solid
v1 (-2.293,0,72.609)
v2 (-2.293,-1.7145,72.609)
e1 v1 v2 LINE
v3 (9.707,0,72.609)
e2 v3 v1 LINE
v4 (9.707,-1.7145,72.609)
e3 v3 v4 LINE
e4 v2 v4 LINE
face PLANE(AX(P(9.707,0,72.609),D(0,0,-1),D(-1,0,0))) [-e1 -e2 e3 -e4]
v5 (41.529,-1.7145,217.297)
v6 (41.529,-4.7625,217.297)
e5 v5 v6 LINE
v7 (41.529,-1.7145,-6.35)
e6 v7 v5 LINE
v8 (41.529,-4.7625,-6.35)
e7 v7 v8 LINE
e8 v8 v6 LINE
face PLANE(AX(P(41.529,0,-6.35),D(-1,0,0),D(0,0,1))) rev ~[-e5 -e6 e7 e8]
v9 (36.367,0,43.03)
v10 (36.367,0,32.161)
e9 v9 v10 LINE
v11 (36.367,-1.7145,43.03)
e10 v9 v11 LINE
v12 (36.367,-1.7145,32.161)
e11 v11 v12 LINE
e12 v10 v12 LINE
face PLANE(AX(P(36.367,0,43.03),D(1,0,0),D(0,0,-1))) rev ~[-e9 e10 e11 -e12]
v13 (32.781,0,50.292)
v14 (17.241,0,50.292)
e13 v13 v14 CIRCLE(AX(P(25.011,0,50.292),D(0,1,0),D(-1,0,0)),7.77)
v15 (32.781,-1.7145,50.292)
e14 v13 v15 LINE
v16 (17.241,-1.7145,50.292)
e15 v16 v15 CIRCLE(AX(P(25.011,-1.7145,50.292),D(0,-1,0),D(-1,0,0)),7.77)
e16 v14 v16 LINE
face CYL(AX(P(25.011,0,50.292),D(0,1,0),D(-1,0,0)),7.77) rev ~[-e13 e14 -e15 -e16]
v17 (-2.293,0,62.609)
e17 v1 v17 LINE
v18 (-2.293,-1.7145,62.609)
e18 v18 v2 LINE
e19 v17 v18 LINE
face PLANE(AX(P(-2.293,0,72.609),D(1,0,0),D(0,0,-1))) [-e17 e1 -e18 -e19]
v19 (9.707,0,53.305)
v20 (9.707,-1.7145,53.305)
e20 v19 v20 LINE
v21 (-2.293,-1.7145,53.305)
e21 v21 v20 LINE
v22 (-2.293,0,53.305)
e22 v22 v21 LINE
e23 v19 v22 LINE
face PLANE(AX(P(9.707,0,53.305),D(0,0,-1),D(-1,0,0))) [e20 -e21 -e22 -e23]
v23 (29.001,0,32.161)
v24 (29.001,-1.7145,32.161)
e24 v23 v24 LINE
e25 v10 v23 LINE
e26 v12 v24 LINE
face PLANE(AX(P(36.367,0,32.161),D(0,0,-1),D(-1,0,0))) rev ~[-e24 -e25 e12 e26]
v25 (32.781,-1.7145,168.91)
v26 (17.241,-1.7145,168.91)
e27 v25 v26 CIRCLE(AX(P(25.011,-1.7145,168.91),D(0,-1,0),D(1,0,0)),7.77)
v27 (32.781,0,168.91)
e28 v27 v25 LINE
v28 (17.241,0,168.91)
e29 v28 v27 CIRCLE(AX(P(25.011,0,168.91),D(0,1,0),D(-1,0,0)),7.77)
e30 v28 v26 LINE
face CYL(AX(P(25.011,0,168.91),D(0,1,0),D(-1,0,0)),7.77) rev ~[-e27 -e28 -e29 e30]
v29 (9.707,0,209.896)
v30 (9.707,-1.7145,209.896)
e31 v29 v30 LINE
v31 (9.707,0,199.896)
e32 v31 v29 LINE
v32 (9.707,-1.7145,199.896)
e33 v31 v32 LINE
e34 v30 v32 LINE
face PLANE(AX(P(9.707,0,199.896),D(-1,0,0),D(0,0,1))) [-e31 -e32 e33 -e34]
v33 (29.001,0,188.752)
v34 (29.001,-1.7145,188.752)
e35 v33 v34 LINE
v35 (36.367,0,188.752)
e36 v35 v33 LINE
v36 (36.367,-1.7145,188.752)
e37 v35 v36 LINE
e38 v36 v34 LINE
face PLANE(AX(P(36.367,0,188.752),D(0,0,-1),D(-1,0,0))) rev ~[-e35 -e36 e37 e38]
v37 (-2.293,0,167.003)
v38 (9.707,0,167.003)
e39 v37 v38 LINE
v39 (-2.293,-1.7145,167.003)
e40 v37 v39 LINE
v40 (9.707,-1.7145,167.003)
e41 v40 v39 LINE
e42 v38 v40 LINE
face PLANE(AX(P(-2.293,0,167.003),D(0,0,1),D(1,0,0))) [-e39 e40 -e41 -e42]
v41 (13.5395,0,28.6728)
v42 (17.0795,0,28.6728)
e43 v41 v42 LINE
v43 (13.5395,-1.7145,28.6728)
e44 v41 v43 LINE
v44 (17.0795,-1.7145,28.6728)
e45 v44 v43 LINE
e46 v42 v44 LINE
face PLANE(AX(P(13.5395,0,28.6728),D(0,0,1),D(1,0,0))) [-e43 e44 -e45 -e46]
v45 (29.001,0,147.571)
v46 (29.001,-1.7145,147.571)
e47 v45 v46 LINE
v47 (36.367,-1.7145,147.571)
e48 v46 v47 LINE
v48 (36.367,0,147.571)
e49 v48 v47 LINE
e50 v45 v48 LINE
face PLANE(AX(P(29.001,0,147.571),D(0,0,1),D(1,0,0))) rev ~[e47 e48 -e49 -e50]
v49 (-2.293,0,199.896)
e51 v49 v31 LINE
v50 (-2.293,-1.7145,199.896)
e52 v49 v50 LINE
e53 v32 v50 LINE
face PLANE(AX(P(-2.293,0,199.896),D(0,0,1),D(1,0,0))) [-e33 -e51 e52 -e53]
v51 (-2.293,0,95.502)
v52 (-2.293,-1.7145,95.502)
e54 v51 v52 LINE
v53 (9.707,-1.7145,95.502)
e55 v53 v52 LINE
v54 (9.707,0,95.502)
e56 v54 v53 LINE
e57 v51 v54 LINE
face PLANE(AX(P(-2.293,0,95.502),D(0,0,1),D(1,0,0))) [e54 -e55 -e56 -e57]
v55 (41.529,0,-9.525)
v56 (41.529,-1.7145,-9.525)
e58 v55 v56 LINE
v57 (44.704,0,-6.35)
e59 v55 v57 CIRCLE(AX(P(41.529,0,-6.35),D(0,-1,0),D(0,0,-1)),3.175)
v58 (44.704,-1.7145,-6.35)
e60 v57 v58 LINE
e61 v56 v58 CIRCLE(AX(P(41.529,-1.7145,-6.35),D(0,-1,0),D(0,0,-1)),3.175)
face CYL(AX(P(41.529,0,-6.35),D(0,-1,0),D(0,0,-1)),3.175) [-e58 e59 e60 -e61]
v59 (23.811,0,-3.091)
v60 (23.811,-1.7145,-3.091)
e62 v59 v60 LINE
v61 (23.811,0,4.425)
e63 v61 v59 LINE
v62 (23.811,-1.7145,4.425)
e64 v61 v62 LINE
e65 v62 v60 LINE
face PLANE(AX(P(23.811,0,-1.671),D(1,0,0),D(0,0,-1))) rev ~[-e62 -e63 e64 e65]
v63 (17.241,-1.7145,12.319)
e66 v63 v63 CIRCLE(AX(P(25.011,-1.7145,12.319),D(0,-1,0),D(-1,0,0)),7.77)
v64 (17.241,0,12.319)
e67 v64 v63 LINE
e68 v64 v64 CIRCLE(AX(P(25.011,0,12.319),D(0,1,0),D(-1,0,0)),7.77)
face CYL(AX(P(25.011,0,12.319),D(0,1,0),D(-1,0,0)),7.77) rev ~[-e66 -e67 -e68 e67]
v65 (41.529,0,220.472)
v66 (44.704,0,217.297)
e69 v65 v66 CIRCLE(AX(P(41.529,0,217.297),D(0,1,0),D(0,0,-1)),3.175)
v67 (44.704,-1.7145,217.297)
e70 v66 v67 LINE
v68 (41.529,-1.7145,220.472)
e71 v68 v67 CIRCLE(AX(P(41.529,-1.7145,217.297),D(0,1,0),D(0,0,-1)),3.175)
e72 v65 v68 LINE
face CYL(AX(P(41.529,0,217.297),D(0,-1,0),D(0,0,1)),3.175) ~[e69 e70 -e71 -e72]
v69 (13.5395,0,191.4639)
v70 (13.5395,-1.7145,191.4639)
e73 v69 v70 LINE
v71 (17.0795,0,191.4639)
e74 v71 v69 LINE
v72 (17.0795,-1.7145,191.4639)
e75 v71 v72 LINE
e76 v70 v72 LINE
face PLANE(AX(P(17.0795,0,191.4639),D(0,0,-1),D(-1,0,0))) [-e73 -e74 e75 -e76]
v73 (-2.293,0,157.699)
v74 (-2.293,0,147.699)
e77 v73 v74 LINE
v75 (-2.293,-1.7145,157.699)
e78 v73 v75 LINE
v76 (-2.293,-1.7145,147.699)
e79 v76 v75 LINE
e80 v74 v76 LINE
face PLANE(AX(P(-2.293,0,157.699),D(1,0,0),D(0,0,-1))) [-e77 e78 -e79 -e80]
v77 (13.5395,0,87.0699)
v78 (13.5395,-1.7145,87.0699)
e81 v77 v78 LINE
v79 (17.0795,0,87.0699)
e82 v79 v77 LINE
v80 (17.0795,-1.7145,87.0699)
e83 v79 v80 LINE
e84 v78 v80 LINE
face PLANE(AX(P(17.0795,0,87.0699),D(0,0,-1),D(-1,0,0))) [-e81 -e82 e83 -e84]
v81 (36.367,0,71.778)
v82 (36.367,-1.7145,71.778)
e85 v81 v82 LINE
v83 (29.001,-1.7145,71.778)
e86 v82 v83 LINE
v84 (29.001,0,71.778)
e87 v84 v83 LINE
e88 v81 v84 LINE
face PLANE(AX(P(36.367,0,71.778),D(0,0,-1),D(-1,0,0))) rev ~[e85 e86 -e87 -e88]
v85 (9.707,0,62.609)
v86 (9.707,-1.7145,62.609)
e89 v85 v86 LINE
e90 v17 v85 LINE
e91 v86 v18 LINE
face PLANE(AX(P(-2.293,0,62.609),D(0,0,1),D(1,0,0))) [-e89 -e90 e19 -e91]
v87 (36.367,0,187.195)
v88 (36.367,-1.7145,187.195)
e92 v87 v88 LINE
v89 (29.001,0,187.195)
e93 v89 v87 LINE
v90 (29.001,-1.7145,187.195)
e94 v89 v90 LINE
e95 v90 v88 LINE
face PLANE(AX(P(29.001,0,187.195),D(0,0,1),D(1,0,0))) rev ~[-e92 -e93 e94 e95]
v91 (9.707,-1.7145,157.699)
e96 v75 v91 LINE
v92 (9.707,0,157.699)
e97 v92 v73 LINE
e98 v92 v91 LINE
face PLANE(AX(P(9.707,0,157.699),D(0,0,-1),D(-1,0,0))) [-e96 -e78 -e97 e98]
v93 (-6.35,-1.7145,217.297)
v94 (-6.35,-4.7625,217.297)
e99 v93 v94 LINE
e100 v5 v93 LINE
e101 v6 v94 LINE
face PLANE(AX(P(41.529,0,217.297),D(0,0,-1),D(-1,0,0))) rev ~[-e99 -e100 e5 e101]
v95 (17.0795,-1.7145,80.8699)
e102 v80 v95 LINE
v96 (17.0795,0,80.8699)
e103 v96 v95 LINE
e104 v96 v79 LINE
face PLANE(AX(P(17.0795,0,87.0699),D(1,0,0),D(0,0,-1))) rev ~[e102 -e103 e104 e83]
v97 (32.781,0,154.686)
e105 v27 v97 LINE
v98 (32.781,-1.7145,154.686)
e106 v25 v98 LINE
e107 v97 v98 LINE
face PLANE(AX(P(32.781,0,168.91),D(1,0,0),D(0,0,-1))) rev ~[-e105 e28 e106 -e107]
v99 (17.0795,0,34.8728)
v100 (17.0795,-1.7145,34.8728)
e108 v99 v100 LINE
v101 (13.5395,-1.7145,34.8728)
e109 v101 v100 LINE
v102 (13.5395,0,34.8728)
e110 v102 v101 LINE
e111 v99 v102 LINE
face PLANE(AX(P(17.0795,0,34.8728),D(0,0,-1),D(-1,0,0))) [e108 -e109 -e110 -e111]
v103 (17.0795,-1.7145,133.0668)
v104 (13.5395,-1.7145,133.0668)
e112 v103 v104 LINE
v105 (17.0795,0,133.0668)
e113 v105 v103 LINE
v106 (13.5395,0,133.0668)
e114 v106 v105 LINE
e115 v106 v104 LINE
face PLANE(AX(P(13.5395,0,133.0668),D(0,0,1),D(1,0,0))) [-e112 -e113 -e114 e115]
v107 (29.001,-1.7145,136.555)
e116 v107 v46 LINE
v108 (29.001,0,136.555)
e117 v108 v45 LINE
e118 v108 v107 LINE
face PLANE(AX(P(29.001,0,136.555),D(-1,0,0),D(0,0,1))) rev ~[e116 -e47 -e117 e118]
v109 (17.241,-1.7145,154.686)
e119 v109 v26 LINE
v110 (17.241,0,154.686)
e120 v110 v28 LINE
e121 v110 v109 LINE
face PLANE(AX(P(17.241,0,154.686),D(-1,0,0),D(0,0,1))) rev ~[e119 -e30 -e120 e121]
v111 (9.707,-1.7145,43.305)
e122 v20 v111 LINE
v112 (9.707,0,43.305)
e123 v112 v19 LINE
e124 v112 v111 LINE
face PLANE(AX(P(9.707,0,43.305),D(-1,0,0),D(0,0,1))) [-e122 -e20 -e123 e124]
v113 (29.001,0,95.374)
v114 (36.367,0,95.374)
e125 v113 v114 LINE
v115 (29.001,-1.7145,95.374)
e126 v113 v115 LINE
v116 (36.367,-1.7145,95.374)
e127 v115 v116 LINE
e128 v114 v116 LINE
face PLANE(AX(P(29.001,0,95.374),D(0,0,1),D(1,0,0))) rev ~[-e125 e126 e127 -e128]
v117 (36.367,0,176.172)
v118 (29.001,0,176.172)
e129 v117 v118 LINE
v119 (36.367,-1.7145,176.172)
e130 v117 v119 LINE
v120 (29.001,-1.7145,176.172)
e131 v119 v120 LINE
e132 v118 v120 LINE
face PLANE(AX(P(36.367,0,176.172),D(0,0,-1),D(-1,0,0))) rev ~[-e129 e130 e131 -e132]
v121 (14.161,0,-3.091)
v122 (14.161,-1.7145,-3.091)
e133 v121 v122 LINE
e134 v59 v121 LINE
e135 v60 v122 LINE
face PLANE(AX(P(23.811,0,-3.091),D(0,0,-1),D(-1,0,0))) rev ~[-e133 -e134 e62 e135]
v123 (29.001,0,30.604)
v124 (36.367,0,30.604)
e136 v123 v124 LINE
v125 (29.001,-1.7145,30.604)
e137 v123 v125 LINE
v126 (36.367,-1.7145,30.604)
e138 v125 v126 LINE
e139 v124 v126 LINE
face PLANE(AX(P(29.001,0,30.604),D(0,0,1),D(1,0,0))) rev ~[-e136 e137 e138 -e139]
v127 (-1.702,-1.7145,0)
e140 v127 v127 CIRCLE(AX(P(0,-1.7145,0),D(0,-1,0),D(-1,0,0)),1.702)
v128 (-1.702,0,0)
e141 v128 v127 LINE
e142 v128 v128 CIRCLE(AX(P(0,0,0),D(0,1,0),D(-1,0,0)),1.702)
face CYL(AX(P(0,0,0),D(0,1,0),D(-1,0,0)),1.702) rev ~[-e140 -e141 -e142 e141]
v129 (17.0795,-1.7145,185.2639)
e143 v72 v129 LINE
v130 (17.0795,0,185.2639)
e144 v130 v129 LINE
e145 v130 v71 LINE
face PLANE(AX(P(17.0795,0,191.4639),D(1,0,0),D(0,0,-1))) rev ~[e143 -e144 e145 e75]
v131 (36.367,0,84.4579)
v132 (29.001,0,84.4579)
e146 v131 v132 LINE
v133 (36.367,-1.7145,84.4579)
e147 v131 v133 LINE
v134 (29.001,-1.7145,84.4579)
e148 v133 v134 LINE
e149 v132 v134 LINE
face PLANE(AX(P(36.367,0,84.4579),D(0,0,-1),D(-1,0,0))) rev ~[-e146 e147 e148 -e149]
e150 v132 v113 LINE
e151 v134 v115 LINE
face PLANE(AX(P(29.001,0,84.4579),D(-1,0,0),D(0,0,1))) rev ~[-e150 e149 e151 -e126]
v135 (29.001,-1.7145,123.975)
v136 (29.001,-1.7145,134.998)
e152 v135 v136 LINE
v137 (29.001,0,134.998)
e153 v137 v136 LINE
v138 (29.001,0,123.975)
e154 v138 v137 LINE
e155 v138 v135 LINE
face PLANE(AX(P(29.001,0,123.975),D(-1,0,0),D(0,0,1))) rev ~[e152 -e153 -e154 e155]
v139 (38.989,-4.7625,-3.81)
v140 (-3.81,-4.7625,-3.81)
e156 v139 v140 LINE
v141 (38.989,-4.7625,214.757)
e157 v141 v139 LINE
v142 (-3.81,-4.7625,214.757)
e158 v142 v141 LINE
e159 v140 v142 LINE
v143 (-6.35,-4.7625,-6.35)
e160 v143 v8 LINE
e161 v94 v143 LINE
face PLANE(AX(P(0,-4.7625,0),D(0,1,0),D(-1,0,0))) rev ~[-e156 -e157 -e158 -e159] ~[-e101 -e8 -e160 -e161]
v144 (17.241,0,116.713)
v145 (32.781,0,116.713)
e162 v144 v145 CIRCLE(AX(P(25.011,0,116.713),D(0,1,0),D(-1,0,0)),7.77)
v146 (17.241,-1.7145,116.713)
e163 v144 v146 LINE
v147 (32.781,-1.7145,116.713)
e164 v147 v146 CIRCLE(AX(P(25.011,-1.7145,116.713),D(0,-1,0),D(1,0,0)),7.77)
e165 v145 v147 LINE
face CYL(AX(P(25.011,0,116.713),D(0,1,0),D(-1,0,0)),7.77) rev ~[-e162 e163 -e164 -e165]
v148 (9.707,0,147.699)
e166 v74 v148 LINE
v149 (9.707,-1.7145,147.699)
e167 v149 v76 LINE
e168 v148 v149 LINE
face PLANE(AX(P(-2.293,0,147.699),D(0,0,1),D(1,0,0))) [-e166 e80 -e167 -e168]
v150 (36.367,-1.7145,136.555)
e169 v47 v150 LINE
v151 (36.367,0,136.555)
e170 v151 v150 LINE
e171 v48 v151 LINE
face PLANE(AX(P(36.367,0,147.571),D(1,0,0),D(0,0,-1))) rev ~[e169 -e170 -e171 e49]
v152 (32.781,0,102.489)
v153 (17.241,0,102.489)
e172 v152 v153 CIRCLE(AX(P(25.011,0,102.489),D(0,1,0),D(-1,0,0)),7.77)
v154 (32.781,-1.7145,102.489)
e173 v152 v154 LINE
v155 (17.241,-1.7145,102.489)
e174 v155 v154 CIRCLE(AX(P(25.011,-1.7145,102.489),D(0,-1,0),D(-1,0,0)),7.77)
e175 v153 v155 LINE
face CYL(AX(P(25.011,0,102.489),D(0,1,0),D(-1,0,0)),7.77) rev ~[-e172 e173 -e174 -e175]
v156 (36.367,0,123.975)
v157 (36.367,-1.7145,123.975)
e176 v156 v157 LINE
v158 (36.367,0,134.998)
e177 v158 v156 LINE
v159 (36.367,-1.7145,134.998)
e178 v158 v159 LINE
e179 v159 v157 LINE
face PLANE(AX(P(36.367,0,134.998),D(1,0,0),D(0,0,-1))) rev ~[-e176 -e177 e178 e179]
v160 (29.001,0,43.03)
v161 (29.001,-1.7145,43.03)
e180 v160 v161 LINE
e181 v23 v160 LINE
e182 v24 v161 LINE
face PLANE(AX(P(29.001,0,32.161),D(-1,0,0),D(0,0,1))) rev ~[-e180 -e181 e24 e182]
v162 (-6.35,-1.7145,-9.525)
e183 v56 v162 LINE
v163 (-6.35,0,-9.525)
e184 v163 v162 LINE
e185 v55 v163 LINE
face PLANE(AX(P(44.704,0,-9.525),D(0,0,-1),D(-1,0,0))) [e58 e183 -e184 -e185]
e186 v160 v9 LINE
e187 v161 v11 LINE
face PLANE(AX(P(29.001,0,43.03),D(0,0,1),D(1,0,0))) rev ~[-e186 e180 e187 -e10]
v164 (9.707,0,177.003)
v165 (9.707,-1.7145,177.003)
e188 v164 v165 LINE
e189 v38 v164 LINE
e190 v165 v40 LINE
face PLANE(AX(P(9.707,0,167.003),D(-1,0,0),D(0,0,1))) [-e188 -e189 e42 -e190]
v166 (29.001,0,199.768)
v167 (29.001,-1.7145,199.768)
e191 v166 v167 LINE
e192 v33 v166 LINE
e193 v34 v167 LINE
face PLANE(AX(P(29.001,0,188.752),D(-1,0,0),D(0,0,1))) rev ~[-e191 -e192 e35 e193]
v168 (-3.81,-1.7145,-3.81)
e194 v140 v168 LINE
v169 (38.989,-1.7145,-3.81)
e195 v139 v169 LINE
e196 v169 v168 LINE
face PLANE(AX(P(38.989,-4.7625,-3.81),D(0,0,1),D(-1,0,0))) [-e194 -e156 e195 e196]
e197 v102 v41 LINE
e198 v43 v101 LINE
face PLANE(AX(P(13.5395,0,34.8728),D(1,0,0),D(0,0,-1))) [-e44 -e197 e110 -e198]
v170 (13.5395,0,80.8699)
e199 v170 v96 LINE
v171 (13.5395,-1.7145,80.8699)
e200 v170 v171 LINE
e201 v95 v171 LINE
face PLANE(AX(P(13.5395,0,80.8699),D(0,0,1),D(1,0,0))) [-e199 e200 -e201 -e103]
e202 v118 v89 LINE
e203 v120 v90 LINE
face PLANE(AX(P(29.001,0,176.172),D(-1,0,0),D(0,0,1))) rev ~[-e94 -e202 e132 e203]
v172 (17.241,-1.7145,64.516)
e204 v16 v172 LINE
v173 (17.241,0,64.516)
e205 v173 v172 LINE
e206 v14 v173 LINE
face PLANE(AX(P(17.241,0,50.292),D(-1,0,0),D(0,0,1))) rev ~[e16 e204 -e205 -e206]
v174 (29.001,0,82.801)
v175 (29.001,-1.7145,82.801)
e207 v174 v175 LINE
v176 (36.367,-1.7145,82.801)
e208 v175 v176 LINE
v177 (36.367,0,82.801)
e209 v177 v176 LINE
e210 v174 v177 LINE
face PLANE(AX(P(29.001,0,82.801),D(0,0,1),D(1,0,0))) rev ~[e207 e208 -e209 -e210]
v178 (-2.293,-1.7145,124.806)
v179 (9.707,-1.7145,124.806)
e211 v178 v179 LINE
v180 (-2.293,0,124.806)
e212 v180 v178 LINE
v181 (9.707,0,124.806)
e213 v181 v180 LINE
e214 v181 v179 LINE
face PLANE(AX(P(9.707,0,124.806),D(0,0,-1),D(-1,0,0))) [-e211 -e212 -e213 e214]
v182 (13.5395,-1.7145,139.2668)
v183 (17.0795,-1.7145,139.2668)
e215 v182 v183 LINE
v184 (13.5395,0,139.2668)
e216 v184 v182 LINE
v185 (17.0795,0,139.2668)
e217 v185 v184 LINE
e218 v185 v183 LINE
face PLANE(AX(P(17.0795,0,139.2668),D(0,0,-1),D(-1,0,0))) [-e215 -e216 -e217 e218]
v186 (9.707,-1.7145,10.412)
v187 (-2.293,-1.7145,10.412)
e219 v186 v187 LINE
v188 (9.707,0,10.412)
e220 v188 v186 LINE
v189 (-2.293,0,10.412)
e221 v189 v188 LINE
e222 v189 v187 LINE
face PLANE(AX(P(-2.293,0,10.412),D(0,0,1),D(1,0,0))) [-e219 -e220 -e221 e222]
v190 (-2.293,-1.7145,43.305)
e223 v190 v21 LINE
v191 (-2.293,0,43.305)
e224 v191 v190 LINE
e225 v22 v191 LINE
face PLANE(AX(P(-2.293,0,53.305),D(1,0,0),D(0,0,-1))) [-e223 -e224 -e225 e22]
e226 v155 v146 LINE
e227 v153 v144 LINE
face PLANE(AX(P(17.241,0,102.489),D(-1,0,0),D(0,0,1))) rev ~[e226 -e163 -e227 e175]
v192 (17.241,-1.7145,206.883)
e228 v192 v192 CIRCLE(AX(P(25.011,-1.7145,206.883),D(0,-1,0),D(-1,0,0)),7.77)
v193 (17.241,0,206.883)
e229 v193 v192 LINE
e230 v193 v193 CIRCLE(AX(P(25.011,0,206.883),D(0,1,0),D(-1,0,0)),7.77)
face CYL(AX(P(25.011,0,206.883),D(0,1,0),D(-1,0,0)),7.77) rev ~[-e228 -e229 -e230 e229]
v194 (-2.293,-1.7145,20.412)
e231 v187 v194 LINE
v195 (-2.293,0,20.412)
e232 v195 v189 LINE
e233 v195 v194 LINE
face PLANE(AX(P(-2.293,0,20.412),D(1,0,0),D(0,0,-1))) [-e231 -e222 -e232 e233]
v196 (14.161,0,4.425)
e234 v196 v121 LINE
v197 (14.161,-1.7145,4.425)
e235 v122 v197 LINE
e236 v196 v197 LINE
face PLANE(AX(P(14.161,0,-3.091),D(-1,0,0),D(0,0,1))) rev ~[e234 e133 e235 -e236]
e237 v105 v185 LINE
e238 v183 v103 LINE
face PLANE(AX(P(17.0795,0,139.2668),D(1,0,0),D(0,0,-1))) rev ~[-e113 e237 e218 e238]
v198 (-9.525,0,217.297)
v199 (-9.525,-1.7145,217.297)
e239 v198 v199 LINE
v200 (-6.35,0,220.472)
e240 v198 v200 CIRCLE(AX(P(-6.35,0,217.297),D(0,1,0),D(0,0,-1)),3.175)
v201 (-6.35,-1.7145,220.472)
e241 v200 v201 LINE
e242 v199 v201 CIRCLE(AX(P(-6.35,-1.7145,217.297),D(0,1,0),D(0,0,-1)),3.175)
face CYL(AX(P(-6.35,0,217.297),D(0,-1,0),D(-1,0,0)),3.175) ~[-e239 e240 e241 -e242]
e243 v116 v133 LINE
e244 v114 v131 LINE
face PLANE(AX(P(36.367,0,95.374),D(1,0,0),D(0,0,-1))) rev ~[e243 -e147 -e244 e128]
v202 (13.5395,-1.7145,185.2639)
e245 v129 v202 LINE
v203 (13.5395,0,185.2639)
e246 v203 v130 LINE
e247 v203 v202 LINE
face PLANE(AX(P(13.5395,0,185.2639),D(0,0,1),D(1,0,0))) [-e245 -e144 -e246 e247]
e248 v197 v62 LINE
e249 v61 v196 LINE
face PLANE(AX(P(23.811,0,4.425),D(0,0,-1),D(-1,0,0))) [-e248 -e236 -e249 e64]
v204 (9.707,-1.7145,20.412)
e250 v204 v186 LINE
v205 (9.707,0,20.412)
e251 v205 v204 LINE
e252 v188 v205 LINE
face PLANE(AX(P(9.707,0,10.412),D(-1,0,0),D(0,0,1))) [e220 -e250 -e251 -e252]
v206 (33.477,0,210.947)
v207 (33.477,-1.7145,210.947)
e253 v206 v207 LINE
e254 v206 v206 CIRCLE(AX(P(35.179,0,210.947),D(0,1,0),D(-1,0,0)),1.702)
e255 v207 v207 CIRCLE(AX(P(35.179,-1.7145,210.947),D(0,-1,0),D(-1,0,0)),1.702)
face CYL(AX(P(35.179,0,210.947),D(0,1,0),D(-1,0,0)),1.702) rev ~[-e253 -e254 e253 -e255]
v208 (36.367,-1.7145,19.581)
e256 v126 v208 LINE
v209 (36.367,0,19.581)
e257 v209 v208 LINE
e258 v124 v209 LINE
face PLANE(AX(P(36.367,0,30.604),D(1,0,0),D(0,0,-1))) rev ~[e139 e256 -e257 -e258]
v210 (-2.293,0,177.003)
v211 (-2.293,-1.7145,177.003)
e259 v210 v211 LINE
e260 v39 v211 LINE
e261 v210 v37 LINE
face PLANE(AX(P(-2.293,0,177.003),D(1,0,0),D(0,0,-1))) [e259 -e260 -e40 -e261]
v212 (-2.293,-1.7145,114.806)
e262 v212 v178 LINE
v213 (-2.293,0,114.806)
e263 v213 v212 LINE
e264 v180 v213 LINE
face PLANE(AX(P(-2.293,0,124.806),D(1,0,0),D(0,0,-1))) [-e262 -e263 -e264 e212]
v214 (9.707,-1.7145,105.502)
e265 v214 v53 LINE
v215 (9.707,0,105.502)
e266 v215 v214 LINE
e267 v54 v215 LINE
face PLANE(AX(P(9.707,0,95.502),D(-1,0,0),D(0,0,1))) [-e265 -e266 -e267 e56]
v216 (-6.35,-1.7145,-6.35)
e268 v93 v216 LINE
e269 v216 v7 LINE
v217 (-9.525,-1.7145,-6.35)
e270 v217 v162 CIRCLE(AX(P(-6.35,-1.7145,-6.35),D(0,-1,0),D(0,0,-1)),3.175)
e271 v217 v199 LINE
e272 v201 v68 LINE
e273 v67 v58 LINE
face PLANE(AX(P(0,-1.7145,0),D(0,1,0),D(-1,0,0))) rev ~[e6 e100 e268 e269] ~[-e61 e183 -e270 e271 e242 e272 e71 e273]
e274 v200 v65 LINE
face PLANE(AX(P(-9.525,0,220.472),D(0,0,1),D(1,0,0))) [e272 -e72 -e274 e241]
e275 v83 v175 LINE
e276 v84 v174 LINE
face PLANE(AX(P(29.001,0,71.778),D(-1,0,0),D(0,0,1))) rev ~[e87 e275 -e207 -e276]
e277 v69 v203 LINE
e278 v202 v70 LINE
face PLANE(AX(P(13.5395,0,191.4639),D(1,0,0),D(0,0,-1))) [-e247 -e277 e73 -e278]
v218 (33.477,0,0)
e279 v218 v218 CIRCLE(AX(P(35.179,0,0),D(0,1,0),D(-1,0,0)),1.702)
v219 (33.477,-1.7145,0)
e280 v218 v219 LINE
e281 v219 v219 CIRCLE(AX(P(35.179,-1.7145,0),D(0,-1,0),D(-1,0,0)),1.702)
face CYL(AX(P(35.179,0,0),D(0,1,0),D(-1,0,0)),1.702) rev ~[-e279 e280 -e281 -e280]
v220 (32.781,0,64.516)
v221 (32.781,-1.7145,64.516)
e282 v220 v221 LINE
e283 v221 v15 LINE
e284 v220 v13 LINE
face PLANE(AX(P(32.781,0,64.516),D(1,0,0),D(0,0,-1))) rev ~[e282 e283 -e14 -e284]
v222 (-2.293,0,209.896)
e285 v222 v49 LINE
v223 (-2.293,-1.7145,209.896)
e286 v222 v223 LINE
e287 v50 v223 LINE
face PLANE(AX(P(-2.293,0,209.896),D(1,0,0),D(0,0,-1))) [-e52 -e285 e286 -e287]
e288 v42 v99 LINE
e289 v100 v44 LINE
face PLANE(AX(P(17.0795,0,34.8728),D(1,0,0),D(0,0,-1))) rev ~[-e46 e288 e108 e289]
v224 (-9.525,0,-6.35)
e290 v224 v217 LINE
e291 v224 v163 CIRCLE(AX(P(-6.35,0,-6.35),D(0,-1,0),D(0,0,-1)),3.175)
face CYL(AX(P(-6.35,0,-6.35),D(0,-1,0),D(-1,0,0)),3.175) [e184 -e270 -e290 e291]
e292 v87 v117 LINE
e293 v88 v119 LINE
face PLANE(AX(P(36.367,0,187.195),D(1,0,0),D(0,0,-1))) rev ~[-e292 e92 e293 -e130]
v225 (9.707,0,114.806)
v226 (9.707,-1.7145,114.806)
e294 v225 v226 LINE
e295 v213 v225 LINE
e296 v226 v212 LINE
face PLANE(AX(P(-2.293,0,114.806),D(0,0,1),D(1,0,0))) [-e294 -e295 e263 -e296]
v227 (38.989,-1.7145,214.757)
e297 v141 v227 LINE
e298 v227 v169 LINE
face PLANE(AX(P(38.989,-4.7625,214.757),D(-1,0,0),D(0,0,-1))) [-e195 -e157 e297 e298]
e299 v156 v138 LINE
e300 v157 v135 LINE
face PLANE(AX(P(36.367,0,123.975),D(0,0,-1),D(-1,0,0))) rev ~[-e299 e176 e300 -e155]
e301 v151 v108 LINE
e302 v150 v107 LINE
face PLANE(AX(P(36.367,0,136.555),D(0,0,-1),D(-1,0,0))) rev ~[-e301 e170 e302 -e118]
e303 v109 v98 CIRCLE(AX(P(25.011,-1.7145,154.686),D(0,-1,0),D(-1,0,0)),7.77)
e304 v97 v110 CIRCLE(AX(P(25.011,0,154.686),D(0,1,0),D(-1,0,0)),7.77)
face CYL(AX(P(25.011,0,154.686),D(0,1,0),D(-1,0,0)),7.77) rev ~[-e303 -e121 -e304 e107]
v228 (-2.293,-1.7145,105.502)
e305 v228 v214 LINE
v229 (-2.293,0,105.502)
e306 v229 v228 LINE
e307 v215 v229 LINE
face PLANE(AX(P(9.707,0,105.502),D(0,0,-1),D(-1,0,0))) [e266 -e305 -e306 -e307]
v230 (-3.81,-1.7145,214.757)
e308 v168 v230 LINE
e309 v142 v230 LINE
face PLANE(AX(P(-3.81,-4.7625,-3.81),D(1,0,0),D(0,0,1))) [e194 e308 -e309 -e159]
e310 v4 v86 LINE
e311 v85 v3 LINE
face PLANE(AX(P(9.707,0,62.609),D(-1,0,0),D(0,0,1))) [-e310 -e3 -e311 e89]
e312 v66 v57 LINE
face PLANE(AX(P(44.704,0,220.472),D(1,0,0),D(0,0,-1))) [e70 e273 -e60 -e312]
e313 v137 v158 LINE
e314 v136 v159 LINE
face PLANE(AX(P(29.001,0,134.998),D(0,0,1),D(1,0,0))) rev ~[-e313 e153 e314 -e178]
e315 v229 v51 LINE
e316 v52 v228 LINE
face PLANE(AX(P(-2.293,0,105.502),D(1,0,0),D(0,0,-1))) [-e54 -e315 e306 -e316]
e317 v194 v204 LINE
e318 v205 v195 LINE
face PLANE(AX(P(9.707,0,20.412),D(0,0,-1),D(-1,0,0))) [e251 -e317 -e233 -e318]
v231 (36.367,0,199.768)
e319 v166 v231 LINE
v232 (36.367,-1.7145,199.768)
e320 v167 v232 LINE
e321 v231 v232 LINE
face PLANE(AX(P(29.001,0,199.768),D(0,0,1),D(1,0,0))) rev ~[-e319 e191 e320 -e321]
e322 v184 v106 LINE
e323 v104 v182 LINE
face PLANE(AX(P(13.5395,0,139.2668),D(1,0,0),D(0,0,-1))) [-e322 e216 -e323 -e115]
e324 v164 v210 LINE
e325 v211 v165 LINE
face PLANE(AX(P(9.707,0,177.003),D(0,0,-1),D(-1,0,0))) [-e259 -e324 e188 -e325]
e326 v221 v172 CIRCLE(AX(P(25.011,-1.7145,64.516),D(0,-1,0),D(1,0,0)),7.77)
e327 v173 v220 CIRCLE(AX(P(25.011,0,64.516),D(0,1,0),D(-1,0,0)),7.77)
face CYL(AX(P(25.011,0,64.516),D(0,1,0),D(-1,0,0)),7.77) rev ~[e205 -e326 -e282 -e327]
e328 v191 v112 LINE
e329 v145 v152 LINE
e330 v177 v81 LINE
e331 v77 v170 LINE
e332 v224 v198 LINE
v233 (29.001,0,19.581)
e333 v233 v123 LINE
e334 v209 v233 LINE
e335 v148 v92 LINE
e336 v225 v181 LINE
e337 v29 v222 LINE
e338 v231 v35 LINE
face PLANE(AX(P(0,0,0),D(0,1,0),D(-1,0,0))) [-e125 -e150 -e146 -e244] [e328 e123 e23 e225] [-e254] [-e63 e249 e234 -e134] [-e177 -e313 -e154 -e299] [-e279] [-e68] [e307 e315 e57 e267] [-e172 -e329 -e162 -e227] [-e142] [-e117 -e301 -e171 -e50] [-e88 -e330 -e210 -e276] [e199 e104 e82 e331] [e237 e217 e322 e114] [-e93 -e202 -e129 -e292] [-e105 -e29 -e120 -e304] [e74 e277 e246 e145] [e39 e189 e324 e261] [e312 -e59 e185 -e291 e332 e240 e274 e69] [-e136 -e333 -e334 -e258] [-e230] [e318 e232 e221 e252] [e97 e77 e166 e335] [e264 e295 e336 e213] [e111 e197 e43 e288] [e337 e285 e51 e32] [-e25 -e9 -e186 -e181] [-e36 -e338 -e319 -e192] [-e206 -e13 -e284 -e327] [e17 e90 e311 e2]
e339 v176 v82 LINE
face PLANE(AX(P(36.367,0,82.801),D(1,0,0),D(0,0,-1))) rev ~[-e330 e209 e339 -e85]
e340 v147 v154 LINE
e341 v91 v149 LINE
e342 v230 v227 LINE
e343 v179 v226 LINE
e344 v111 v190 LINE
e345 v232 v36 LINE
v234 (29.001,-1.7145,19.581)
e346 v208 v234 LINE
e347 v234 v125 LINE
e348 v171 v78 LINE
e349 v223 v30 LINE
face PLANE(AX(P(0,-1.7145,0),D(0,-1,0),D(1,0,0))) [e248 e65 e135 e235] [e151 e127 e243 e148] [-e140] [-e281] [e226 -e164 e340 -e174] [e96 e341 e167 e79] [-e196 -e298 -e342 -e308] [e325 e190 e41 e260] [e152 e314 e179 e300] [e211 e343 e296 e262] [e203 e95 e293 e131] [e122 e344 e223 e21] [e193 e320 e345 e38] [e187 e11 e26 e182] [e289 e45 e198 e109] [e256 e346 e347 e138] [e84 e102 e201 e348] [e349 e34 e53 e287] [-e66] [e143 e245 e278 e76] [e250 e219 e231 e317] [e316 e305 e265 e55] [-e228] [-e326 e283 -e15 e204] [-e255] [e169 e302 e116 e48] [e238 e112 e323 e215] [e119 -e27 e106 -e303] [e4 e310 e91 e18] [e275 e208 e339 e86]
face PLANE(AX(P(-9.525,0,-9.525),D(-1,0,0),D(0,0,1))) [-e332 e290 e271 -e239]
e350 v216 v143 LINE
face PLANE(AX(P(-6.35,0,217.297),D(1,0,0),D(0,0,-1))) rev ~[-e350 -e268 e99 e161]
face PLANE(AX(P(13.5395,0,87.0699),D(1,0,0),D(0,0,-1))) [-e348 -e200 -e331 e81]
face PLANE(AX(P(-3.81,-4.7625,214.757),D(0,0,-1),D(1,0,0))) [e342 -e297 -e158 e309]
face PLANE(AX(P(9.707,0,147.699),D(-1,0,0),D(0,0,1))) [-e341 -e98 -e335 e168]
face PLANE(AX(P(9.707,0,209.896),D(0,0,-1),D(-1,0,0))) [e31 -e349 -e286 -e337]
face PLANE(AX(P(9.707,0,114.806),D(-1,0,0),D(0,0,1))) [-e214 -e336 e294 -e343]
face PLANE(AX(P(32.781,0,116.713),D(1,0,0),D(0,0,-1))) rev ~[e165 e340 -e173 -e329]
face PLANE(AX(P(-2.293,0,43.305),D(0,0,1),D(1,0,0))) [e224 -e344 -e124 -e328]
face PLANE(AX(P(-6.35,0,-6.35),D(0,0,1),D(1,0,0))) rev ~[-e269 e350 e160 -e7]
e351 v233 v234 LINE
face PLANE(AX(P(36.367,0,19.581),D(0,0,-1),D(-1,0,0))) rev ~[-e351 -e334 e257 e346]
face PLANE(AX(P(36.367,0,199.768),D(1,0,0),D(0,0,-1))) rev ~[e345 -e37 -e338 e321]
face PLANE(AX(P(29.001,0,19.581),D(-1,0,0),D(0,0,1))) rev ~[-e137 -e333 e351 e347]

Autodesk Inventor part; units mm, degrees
ref_plane "YZ Plane" through (0, 0, 0) normal (1, 0, 0) x (0, 1, 0)
ref_plane "XZ Plane" through (0, 0, 0) normal (0, 1, 0) x (-1, 0, 0)
ref_plane "XY Plane" through (0, 0, 0) normal (0, 0, 1) x (1, 0, 0)
sketch "Sketch1" plane through (0, 0, 0) normal (0, 1, 0) x (-1, 0, 0)
  line L0 (-9.707, 199.896) -> (-9.707, 209.896)
  line L1 (-9.707, 209.896) -> (2.293, 209.896)
  line L2 (2.293, 209.896) -> (2.293, 199.896)
  line L3 (2.293, 199.896) -> (-9.707, 199.896)
  line L4 (3.1921, 191.3679) -> (3.1921, 185.3679)
  line L5 (-9.707, 177.003) -> (2.293, 177.003)
  line L6 (-9.707, 167.003) -> (-9.707, 177.003)
  line L7 (2.293, 167.003) -> (-9.707, 167.003)
  line L8 (2.293, 177.003) -> (2.293, 167.003)
  line L9 (-9.707, 147.699) -> (-9.707, 157.699)
  line L10 (-9.707, 157.699) -> (2.293, 157.699)
  line L11 (2.293, 157.699) -> (2.293, 147.699)
  line L12 (2.293, 147.699) -> (-9.707, 147.699)
  line L13 (-9.707, 114.806) -> (-9.707, 124.806)
  line L14 (3.1921, 139.1709) -> (3.1921, 133.1709)
  line L15 (2.293, 124.806) -> (2.293, 114.806)
  line L16 (2.293, 114.806) -> (-9.707, 114.806)
  line L17 (-9.707, 124.806) -> (2.293, 124.806)
  circle A0 centre (-25.011, 102.489) radius 6.5
  circle A1 centre (-25.011, 116.713) radius 6.5
  line L18 (-9.707, 105.502) -> (2.293, 105.502)
  line L19 (2.293, 105.502) -> (2.293, 95.502)
  line L20 (2.293, 95.502) -> (-9.707, 95.502)
  line L21 (-9.707, 95.502) -> (-9.707, 105.502)
  line L22 (-17.0795, 87.0699) -> (-13.5395, 87.0699)
  line L23 (-35.859, 94.866) -> (-35.859, 84.866)
  circle A2 centre (-25.011, 12.319) radius 6.5
  line L24 (-9.707, 20.412) -> (2.293, 20.412)
  line L25 (2.293, 20.412) -> (2.293, 10.412)
  line L26 (2.293, 10.412) -> (-9.707, 10.412)
  line L27 (-9.707, 10.412) -> (-9.707, 20.412)
  line L28 (-17.686, -1.671) -> (-20.286, -1.671)
  circle A3 centre (-35.179, 0) radius 1.702
  line L29 (-20.461, 3.894) -> (-19.461, 3.894)
  line L30 (-23.811, 2.214) -> (-23.811, 0.214)
  line L31 (-14.161, 2.214) -> (-14.161, 0.214)
  circle A4 centre (0, 0) radius 1.702
  line L32 (-18.511, 3.894) -> (-17.511, 3.894)
  circle A5 centre (-25.011, 64.516) radius 6.5
  line L33 (-9.707, 72.609) -> (2.293, 72.609)
  line L34 (-9.707, 62.609) -> (-9.707, 72.609)
  line L35 (2.293, 62.609) -> (-9.707, 62.609)
  line L36 (2.293, 72.609) -> (2.293, 62.609)
  line L37 (3.1921, 86.9739) -> (3.1921, 80.9739)
  line L38 (-13.5395, 80.8699) -> (-17.0795, 80.8699)
  line L39 (-17.0795, 82.9738) -> (-17.0795, 84.9659)
  line L40 (-13.5395, 87.0699) -> (-13.5395, 80.8699)
  line L41 (-35.859, 82.293) -> (-35.859, 72.293)
  circle A6 centre (-25.011, 168.91) radius 6.5
  circle A7 centre (-25.011, 206.883) radius 6.5
  line L42 (-13.5395, 191.4639) -> (-13.5395, 185.2639)
  line L43 (-13.5395, 185.2639) -> (-17.0795, 185.2639)
  line L44 (-17.0795, 187.3678) -> (-17.0795, 189.3599)
  line L45 (-17.0795, 191.4639) -> (-13.5395, 191.4639)
  line L46 (-35.859, 186.687) -> (-35.859, 176.687)
  line L47 (-35.859, 199.26) -> (-35.859, 189.26)
  circle A8 centre (-35.179, 210.947) radius 1.702
  circle A9 centre (-25.011, 154.686) radius 6.5
  line L48 (-13.5395, 139.2668) -> (-13.5395, 133.0668)
  line L49 (-13.5395, 133.0668) -> (-17.0795, 133.0668)
  line L50 (-17.0795, 139.2668) -> (-13.5395, 139.2668)
  line L51 (-17.0795, 135.1708) -> (-17.0795, 137.1629)
  line L52 (-35.859, 134.49) -> (-35.859, 124.49)
  line L53 (-35.859, 147.063) -> (-35.859, 137.063)
  circle A10 centre (-25.011, 50.292) radius 6.5
  line L54 (-9.707, 53.305) -> (2.293, 53.305)
  line L55 (-9.707, 43.305) -> (-9.707, 53.305)
  line L56 (2.293, 43.305) -> (-9.707, 43.305)
  line L57 (2.293, 53.305) -> (2.293, 43.305)
  line L58 (3.1921, 34.7769) -> (3.1921, 28.7769)
  line L59 (-13.5395, 28.6728) -> (-17.0795, 28.6728)
  line L60 (-17.0795, 30.7768) -> (-17.0795, 32.7689)
  line L61 (-13.5395, 34.8728) -> (-13.5395, 28.6728)
  line L62 (-17.0795, 34.8728) -> (-13.5395, 34.8728)
  line L63 (-35.859, 30.096) -> (-35.859, 20.096)
  line L64 (-35.859, 42.669) -> (-35.859, 32.669)
  line L65 (9.525, 220.472) -> (-44.704, 220.472)
  line L66 (-44.704, 220.472) -> (-44.704, -9.525)
  line L67 (-44.704, -9.525) -> (9.525, -9.525)
  line L68 (9.525, -9.525) -> (9.525, 220.472)
  line L69 (6.35, -6.35) -> (-41.529, -6.35)
  line L70 (-41.529, -6.35) -> (-41.529, 217.297)
  line L71 (-41.529, 217.297) -> (6.35, 217.297)
  line L72 (6.35, 217.297) -> (6.35, -6.35)
  line L73 (-13.5395, 191.4639) -> (-17.0795, 191.4639)
  line L74 (-17.0795, 191.4639) -> (-17.0795, 185.2639)
  line L75 (-17.0795, 185.2639) -> (-13.5395, 185.2639)
  line L76 (-13.5395, 185.2639) -> (-13.5395, 191.4639)
  line L77 (-13.5395, 139.2668) -> (-17.0795, 139.2668)
  line L78 (-17.0795, 139.2668) -> (-17.0795, 133.0668)
  line L79 (-17.0795, 133.0668) -> (-13.5395, 133.0668)
  line L80 (-13.5395, 133.0668) -> (-13.5395, 139.2668)
  line L81 (-13.5395, 87.0699) -> (-17.0795, 87.0699)
  line L82 (-17.0795, 87.0699) -> (-17.0795, 80.8699)
  line L83 (-17.0795, 80.8699) -> (-13.5395, 80.8699)
  line L84 (-13.5395, 80.8699) -> (-13.5395, 87.0699)
  line L85 (-13.5395, 34.8728) -> (-17.0795, 34.8728)
  line L86 (-17.0795, 34.8728) -> (-17.0795, 28.6728)
  line L87 (-17.0795, 28.6728) -> (-13.5395, 28.6728)
  line L88 (-13.5395, 28.6728) -> (-13.5395, 34.8728)
  circle A11 centre (-25.011, 206.883) radius 7.77
  circle A12 centre (-25.011, 168.91) radius 7.77
  circle A13 centre (-25.011, 154.686) radius 7.77
  circle A14 centre (-25.011, 116.713) radius 7.77
  circle A15 centre (-25.011, 102.489) radius 7.77
  circle A16 centre (-25.011, 64.516) radius 7.77
  circle A17 centre (-25.011, 50.292) radius 7.77
  circle A18 centre (-25.011, 12.319) radius 7.77
  line L89 (-17.241, 168.91) -> (-32.781, 168.91)
  line L90 (-32.781, 168.91) -> (-32.781, 154.686)
  line L91 (-32.781, 154.686) -> (-17.241, 154.686)
  line L92 (-17.241, 154.686) -> (-17.241, 168.91)
  line L93 (-17.241, 116.713) -> (-32.781, 116.713)
  line L94 (-32.781, 116.713) -> (-32.781, 102.489)
  line L95 (-32.781, 102.489) -> (-17.241, 102.489)
  line L96 (-17.241, 102.489) -> (-17.241, 116.713)
  line L97 (-17.241, 64.516) -> (-32.781, 64.516)
  line L98 (-32.781, 64.516) -> (-32.781, 50.292)
  line L99 (-32.781, 50.292) -> (-17.241, 50.292)
  line L100 (-17.241, 50.292) -> (-17.241, 64.516)
  line L101 (-35.859, 199.26) -> (-29.509, 199.26)
  line L102 (-29.509, 199.26) -> (-29.509, 189.26)
  line L103 (-29.509, 189.26) -> (-35.859, 189.26)
  line L104 (-35.859, 189.26) -> (-35.859, 199.26)
  line L105 (-35.859, 186.687) -> (-29.509, 186.687)
  line L106 (-29.509, 186.687) -> (-29.509, 176.68)
  line L107 (-29.509, 176.68) -> (-35.859, 176.68)
  line L108 (-35.859, 176.68) -> (-35.859, 186.687)
  line L109 (-35.859, 147.063) -> (-29.509, 147.063)
  line L110 (-29.509, 147.063) -> (-29.509, 137.063)
  line L111 (-29.509, 137.063) -> (-35.859, 137.063)
  line L112 (-35.859, 137.063) -> (-35.859, 147.063)
  line L113 (-35.859, 134.49) -> (-29.509, 134.49)
  line L114 (-29.509, 134.49) -> (-29.509, 124.483)
  line L115 (-29.509, 124.483) -> (-35.859, 124.483)
  line L116 (-35.859, 124.483) -> (-35.859, 134.49)
  line L117 (-35.859, 94.866) -> (-29.509, 94.866)
  line L118 (-29.509, 94.866) -> (-29.509, 84.9659)
  line L119 (-29.509, 84.9659) -> (-35.859, 84.9659)
  line L120 (-35.859, 84.9659) -> (-35.859, 94.866)
  line L121 (-35.859, 82.293) -> (-29.509, 82.293)
  line L122 (-29.509, 82.293) -> (-29.509, 72.286)
  line L123 (-29.509, 72.286) -> (-35.859, 72.286)
  line L124 (-35.859, 72.286) -> (-35.859, 82.293)
  line L125 (-35.859, 42.522) -> (-29.509, 42.522)
  line L126 (-29.509, 42.522) -> (-29.509, 32.669)
  line L127 (-29.509, 32.669) -> (-35.859, 32.669)
  line L128 (-35.859, 32.669) -> (-35.859, 42.522)
  line L129 (-35.859, 30.096) -> (-29.509, 30.096)
  line L130 (-29.509, 30.096) -> (-29.509, 20.089)
  line L131 (-29.509, 20.089) -> (-35.859, 20.089)
  line L132 (-35.859, 20.089) -> (-35.859, 30.096)
  line L133 (-14.161, 3.894) -> (-23.811, 3.894)
  line L134 (-23.811, 3.894) -> (-23.811, -1.671)
  line L135 (-23.811, -1.671) -> (-14.161, -1.671)
  line L136 (-14.161, -1.671) -> (-14.161, 3.894)
  line L137 (-14.161, 3.894) -> (-23.811, 3.894)
  line L138 (-23.811, 3.894) -> (-23.811, -3.091)
  line L139 (-23.811, -3.091) -> (-14.161, -3.091)
  line L140 (-14.161, -3.091) -> (-14.161, 3.894)
  line L141 (-14.161, -1.671) -> (-23.811, -1.671)
  line L142 (-23.811, -1.671) -> (-23.811, 4.425)
  line L143 (-23.811, 4.425) -> (-14.161, 4.425)
  line L144 (-14.161, 4.425) -> (-14.161, -1.671)
  line L145 (-29.001, 71.778) -> (-29.001, 82.801)
  line L146 (-29.001, 82.801) -> (-36.367, 82.801)
  line L147 (-36.367, 82.801) -> (-36.367, 71.778)
  line L148 (-36.367, 71.778) -> (-29.001, 71.778)
  line L149 (-29.001, 84.4579) -> (-29.001, 95.374)
  line L150 (-29.001, 95.374) -> (-36.367, 95.374)
  line L151 (-36.367, 95.374) -> (-36.367, 84.4579)
  line L152 (-36.367, 84.4579) -> (-29.001, 84.4579)
  line L153 (-29.001, 19.581) -> (-29.001, 30.604)
  line L154 (-29.001, 30.604) -> (-36.367, 30.604)
  line L155 (-36.367, 30.604) -> (-36.367, 19.581)
  line L156 (-36.367, 19.581) -> (-29.001, 19.581)
  line L157 (-29.001, 32.161) -> (-29.001, 43.03)
  line L158 (-29.001, 43.03) -> (-36.367, 43.03)
  line L159 (-36.367, 43.03) -> (-36.367, 32.161)
  line L160 (-36.367, 32.161) -> (-29.001, 32.161)
  line L161 (-29.001, 123.975) -> (-29.001, 134.998)
  line L162 (-29.001, 134.998) -> (-36.367, 134.998)
  line L163 (-36.367, 134.998) -> (-36.367, 123.975)
  line L164 (-36.367, 123.975) -> (-29.001, 123.975)
  line L165 (-29.001, 136.555) -> (-29.001, 147.571)
  line L166 (-29.001, 147.571) -> (-36.367, 147.571)
  line L167 (-36.367, 147.571) -> (-36.367, 136.555)
  line L168 (-36.367, 136.555) -> (-29.001, 136.555)
  line L169 (-29.001, 176.172) -> (-29.001, 187.195)
  line L170 (-29.001, 187.195) -> (-36.367, 187.195)
  line L171 (-36.367, 187.195) -> (-36.367, 176.172)
  line L172 (-36.367, 176.172) -> (-29.001, 176.172)
  line L173 (-29.001, 188.752) -> (-29.001, 199.768)
  line L174 (-29.001, 199.768) -> (-36.367, 199.768)
  line L175 (-36.367, 199.768) -> (-36.367, 188.752)
  line L176 (-36.367, 188.752) -> (-29.001, 188.752)
  point P0 (0, 0)
  point P1 (0, 0)
  point P2 (-17.0795, 34.8728)
  point P3 (-17.0795, 87.0699)
  point P4 (-17.0795, 139.2668)
  point P5 (-17.0795, 191.4639)
  point P6 (-17.241, 50.292)
  point P7 (-17.241, 102.489)
  point P8 (-17.241, 154.686)
  point P9 (-35.859, 84.9659)
  point P10 (-23.811, 0.214)
  point P11 (-23.811, -1.671)
  point P12 (-14.161, 0.214)
  dimension "d0" = 1.27
  dimension "d1" = 1.27
  dimension "d2" = 1.27
  dimension "d3" = 1.27
  dimension "d4" = 1.27
  dimension "d5" = 1.27
  dimension "d6" = 1.27
  dimension "d7" = 1.27
  dimension "d12" = 6.35
  dimension "d16" = 6.985
  dimension "d17" = 6.096
  dimension "d22" = 0.508
  dimension "d23" = 0.508
  dimension "d24" = 0.508
  dimension "d25" = 0.508
  dimension "d26" = 0.508
  dimension "d27" = 0.508
  dimension "d28" = 0.508
  dimension "d29" = 0.508
extrude "Extrusion1" add sketch "Sketch1" against normal blind 4.7625 contours L117 L118 L119 L23 | L135 L140 L139 L138 L28 | L28 L135 L134 L30 L133 L29 L32 L136 L31 | L133 L32 L29 L142 L143 L144 | L121 L122 L123 L124 L41 | L105 L106 L107 L108 L46 | L101 L102 L103 L47 | L113 L114 L115 L116 L52 | L109 L110 L111 L53 | L129 L130 L131 L132 L63 | L125 L126 L127 L64 | L69 L70 L71 L72 | L148 L147 L146 L145 | L152 L151 L150 L149 | L156 L155 L154 L153 | L160 L159 L158 L157 | L164 L163 L162 L161 | L168 L167 L166 L165 | L172 L171 L170 L169 | L176 L175 L174 L173
extrude "Extrusion2" add sketch "Sketch1" against normal blind 1.7145 contours L68 L67 L66 L65
extrude "Extrusion3" cut sketch "Sketch1" against normal up to surface (4.7625 mm away) contours L117 L118 L119 L23 | L135 L140 L139 L138 L28 | L28 L135 L134 L30 L133 L29 L32 L136 L31 | L133 L32 L29 L142 L143 L144 | L121 L122 L123 L124 L41 | L105 L106 L107 L108 L46 | L101 L102 L103 L47 | L113 L114 L115 L116 L52 | L109 L110 L111 L53 | L129 L130 L131 L132 L63 | L125 L126 L127 L64 | L148 L147 L146 L145 | L152 L151 L150 L149 | L156 L155 L154 L153 | L160 L159 L158 L157 | L164 L163 L162 L161 | L168 L167 L166 L165 | L172 L171 L170 L169 | L176 L175 L174 L173
fillet "Fillet1" radius 3.175 4 edges at (44.704, -0.8573, -9.525) (-9.525, -0.8573, -9.525) (-9.525, -0.8573, 220.472) (44.704, -0.8573, 220.472)
sketch "Sketch2" plane through (0, -4.7625, 0) normal (0, -1, 0) x (1, 0, 0)
  line L0 (14.161, -3.091) -> (14.161, 4.425) projected
  line L1 (14.161, 4.425) -> (23.811, 4.425) projected
  line L2 (23.811, 4.425) -> (23.811, -3.091) projected
  line L3 (23.811, -3.091) -> (14.161, -3.091) projected
  line L4 (41.529, -6.35) -> (41.529, 217.297) projected
  line L5 (41.529, 217.297) -> (-6.35, 217.297) projected
  line L6 (-6.35, 217.297) -> (-6.35, -6.35) projected
  line L7 (-6.35, -6.35) -> (41.529, -6.35) projected
  line L8 (17.0795, 34.8728) -> (17.0795, 28.6728) projected
  line L9 (17.0795, 28.6728) -> (13.5395, 28.6728) projected
  line L10 (13.5395, 28.6728) -> (13.5395, 34.8728) projected
  line L11 (13.5395, 34.8728) -> (17.0795, 34.8728) projected
  circle A0 centre (35.179, 210.947) radius 1.702 projected
  circle A1 centre (0, 0) radius 1.702 projected
  line L12 (17.0795, 87.0699) -> (17.0795, 80.8699) projected
  line L13 (17.0795, 80.8699) -> (13.5395, 80.8699) projected
  line L14 (13.5395, 80.8699) -> (13.5395, 87.0699) projected
  line L15 (13.5395, 87.0699) -> (17.0795, 87.0699) projected
  circle A2 centre (35.179, 0) radius 1.702 projected
  line L16 (17.0795, 139.2668) -> (17.0795, 133.0668) projected
  line L17 (17.0795, 133.0668) -> (13.5395, 133.0668) projected
  line L18 (13.5395, 133.0668) -> (13.5395, 139.2668) projected
  line L19 (13.5395, 139.2668) -> (17.0795, 139.2668) projected
  line L20 (17.0795, 191.4639) -> (17.0795, 185.2639) projected
  line L21 (17.0795, 185.2639) -> (13.5395, 185.2639) projected
  line L22 (13.5395, 185.2639) -> (13.5395, 191.4639) projected
  line L23 (13.5395, 191.4639) -> (17.0795, 191.4639) projected
  circle A3 centre (25.011, 12.319) radius 7.77 projected
  circle A4 centre (25.011, 206.883) radius 7.77 projected
  line L24 (-2.293, 53.305) -> (9.707, 53.305) projected
  line L25 (9.707, 53.305) -> (9.707, 43.305) projected
  line L26 (9.707, 43.305) -> (-2.293, 43.305) projected
  line L27 (-2.293, 43.305) -> (-2.293, 53.305) projected
  line L28 (-2.293, 72.609) -> (9.707, 72.609) projected
  line L29 (9.707, 72.609) -> (9.707, 62.609) projected
  line L30 (9.707, 62.609) -> (-2.293, 62.609) projected
  line L31 (-2.293, 62.609) -> (-2.293, 72.609) projected
  line L32 (-2.293, 20.412) -> (9.707, 20.412) projected
  line L33 (9.707, 20.412) -> (9.707, 10.412) projected
  line L34 (9.707, 10.412) -> (-2.293, 10.412) projected
  line L35 (-2.293, 10.412) -> (-2.293, 20.412) projected
  line L36 (9.707, 147.699) -> (-2.293, 147.699) projected
  line L37 (-2.293, 147.699) -> (-2.293, 157.699) projected
  line L38 (-2.293, 157.699) -> (9.707, 157.699) projected
  line L39 (9.707, 157.699) -> (9.707, 147.699) projected
  line L40 (-2.293, 105.502) -> (9.707, 105.502) projected
  line L41 (9.707, 105.502) -> (9.707, 95.502) projected
  line L42 (9.707, 95.502) -> (-2.293, 95.502) projected
  line L43 (-2.293, 95.502) -> (-2.293, 105.502) projected
  line L44 (-2.293, 124.806) -> (9.707, 124.806) projected
  line L45 (9.707, 124.806) -> (9.707, 114.806) projected
  line L46 (9.707, 114.806) -> (-2.293, 114.806) projected
  line L47 (-2.293, 114.806) -> (-2.293, 124.806) projected
  line L48 (9.707, 167.003) -> (-2.293, 167.003) projected
  line L49 (-2.293, 167.003) -> (-2.293, 177.003) projected
  line L50 (-2.293, 177.003) -> (9.707, 177.003) projected
  line L51 (9.707, 177.003) -> (9.707, 167.003) projected
  line L52 (9.707, 209.896) -> (9.707, 199.896) projected
  line L53 (9.707, 199.896) -> (-2.293, 199.896) projected
  line L54 (-2.293, 199.896) -> (-2.293, 209.896) projected
  line L55 (-2.293, 209.896) -> (9.707, 209.896) projected
  line L56 (17.241, 50.292) -> (17.241, 64.516) projected
  arc A5 (32.781, 64.516) -> (17.241, 64.516) centre (25.011, 64.516) ccw projected
  line L57 (32.781, 64.516) -> (32.781, 50.292) projected
  arc A6 (17.241, 50.292) -> (32.781, 50.292) centre (25.011, 50.292) ccw projected
  line L58 (17.241, 102.489) -> (17.241, 116.713) projected
  arc A7 (32.781, 116.713) -> (17.241, 116.713) centre (25.011, 116.713) ccw projected
  line L59 (32.781, 116.713) -> (32.781, 102.489) projected
  arc A8 (17.241, 102.489) -> (32.781, 102.489) centre (25.011, 102.489) ccw projected
  line L60 (17.241, 154.686) -> (17.241, 168.91) projected
  arc A9 (32.781, 168.91) -> (17.241, 168.91) centre (25.011, 168.91) ccw projected
  line L61 (32.781, 168.91) -> (32.781, 154.686) projected
  arc A10 (17.241, 154.686) -> (32.781, 154.686) centre (25.011, 154.686) ccw projected
  line L62 (-3.81, -3.81) -> (-3.81, 214.757)
  line L63 (-3.81, 214.757) -> (38.989, 214.757)
  line L64 (38.989, 214.757) -> (38.989, -3.81)
  line L65 (38.989, -3.81) -> (-3.81, -3.81)
  point P0 (0, 0)
  dimension "d19" = 2.54
extrude "Extrusion4" cut sketch "Sketch2" against normal up to surface (3.048 mm away) contours L62 L63 L64 L65
properties part number "BoxLid"
